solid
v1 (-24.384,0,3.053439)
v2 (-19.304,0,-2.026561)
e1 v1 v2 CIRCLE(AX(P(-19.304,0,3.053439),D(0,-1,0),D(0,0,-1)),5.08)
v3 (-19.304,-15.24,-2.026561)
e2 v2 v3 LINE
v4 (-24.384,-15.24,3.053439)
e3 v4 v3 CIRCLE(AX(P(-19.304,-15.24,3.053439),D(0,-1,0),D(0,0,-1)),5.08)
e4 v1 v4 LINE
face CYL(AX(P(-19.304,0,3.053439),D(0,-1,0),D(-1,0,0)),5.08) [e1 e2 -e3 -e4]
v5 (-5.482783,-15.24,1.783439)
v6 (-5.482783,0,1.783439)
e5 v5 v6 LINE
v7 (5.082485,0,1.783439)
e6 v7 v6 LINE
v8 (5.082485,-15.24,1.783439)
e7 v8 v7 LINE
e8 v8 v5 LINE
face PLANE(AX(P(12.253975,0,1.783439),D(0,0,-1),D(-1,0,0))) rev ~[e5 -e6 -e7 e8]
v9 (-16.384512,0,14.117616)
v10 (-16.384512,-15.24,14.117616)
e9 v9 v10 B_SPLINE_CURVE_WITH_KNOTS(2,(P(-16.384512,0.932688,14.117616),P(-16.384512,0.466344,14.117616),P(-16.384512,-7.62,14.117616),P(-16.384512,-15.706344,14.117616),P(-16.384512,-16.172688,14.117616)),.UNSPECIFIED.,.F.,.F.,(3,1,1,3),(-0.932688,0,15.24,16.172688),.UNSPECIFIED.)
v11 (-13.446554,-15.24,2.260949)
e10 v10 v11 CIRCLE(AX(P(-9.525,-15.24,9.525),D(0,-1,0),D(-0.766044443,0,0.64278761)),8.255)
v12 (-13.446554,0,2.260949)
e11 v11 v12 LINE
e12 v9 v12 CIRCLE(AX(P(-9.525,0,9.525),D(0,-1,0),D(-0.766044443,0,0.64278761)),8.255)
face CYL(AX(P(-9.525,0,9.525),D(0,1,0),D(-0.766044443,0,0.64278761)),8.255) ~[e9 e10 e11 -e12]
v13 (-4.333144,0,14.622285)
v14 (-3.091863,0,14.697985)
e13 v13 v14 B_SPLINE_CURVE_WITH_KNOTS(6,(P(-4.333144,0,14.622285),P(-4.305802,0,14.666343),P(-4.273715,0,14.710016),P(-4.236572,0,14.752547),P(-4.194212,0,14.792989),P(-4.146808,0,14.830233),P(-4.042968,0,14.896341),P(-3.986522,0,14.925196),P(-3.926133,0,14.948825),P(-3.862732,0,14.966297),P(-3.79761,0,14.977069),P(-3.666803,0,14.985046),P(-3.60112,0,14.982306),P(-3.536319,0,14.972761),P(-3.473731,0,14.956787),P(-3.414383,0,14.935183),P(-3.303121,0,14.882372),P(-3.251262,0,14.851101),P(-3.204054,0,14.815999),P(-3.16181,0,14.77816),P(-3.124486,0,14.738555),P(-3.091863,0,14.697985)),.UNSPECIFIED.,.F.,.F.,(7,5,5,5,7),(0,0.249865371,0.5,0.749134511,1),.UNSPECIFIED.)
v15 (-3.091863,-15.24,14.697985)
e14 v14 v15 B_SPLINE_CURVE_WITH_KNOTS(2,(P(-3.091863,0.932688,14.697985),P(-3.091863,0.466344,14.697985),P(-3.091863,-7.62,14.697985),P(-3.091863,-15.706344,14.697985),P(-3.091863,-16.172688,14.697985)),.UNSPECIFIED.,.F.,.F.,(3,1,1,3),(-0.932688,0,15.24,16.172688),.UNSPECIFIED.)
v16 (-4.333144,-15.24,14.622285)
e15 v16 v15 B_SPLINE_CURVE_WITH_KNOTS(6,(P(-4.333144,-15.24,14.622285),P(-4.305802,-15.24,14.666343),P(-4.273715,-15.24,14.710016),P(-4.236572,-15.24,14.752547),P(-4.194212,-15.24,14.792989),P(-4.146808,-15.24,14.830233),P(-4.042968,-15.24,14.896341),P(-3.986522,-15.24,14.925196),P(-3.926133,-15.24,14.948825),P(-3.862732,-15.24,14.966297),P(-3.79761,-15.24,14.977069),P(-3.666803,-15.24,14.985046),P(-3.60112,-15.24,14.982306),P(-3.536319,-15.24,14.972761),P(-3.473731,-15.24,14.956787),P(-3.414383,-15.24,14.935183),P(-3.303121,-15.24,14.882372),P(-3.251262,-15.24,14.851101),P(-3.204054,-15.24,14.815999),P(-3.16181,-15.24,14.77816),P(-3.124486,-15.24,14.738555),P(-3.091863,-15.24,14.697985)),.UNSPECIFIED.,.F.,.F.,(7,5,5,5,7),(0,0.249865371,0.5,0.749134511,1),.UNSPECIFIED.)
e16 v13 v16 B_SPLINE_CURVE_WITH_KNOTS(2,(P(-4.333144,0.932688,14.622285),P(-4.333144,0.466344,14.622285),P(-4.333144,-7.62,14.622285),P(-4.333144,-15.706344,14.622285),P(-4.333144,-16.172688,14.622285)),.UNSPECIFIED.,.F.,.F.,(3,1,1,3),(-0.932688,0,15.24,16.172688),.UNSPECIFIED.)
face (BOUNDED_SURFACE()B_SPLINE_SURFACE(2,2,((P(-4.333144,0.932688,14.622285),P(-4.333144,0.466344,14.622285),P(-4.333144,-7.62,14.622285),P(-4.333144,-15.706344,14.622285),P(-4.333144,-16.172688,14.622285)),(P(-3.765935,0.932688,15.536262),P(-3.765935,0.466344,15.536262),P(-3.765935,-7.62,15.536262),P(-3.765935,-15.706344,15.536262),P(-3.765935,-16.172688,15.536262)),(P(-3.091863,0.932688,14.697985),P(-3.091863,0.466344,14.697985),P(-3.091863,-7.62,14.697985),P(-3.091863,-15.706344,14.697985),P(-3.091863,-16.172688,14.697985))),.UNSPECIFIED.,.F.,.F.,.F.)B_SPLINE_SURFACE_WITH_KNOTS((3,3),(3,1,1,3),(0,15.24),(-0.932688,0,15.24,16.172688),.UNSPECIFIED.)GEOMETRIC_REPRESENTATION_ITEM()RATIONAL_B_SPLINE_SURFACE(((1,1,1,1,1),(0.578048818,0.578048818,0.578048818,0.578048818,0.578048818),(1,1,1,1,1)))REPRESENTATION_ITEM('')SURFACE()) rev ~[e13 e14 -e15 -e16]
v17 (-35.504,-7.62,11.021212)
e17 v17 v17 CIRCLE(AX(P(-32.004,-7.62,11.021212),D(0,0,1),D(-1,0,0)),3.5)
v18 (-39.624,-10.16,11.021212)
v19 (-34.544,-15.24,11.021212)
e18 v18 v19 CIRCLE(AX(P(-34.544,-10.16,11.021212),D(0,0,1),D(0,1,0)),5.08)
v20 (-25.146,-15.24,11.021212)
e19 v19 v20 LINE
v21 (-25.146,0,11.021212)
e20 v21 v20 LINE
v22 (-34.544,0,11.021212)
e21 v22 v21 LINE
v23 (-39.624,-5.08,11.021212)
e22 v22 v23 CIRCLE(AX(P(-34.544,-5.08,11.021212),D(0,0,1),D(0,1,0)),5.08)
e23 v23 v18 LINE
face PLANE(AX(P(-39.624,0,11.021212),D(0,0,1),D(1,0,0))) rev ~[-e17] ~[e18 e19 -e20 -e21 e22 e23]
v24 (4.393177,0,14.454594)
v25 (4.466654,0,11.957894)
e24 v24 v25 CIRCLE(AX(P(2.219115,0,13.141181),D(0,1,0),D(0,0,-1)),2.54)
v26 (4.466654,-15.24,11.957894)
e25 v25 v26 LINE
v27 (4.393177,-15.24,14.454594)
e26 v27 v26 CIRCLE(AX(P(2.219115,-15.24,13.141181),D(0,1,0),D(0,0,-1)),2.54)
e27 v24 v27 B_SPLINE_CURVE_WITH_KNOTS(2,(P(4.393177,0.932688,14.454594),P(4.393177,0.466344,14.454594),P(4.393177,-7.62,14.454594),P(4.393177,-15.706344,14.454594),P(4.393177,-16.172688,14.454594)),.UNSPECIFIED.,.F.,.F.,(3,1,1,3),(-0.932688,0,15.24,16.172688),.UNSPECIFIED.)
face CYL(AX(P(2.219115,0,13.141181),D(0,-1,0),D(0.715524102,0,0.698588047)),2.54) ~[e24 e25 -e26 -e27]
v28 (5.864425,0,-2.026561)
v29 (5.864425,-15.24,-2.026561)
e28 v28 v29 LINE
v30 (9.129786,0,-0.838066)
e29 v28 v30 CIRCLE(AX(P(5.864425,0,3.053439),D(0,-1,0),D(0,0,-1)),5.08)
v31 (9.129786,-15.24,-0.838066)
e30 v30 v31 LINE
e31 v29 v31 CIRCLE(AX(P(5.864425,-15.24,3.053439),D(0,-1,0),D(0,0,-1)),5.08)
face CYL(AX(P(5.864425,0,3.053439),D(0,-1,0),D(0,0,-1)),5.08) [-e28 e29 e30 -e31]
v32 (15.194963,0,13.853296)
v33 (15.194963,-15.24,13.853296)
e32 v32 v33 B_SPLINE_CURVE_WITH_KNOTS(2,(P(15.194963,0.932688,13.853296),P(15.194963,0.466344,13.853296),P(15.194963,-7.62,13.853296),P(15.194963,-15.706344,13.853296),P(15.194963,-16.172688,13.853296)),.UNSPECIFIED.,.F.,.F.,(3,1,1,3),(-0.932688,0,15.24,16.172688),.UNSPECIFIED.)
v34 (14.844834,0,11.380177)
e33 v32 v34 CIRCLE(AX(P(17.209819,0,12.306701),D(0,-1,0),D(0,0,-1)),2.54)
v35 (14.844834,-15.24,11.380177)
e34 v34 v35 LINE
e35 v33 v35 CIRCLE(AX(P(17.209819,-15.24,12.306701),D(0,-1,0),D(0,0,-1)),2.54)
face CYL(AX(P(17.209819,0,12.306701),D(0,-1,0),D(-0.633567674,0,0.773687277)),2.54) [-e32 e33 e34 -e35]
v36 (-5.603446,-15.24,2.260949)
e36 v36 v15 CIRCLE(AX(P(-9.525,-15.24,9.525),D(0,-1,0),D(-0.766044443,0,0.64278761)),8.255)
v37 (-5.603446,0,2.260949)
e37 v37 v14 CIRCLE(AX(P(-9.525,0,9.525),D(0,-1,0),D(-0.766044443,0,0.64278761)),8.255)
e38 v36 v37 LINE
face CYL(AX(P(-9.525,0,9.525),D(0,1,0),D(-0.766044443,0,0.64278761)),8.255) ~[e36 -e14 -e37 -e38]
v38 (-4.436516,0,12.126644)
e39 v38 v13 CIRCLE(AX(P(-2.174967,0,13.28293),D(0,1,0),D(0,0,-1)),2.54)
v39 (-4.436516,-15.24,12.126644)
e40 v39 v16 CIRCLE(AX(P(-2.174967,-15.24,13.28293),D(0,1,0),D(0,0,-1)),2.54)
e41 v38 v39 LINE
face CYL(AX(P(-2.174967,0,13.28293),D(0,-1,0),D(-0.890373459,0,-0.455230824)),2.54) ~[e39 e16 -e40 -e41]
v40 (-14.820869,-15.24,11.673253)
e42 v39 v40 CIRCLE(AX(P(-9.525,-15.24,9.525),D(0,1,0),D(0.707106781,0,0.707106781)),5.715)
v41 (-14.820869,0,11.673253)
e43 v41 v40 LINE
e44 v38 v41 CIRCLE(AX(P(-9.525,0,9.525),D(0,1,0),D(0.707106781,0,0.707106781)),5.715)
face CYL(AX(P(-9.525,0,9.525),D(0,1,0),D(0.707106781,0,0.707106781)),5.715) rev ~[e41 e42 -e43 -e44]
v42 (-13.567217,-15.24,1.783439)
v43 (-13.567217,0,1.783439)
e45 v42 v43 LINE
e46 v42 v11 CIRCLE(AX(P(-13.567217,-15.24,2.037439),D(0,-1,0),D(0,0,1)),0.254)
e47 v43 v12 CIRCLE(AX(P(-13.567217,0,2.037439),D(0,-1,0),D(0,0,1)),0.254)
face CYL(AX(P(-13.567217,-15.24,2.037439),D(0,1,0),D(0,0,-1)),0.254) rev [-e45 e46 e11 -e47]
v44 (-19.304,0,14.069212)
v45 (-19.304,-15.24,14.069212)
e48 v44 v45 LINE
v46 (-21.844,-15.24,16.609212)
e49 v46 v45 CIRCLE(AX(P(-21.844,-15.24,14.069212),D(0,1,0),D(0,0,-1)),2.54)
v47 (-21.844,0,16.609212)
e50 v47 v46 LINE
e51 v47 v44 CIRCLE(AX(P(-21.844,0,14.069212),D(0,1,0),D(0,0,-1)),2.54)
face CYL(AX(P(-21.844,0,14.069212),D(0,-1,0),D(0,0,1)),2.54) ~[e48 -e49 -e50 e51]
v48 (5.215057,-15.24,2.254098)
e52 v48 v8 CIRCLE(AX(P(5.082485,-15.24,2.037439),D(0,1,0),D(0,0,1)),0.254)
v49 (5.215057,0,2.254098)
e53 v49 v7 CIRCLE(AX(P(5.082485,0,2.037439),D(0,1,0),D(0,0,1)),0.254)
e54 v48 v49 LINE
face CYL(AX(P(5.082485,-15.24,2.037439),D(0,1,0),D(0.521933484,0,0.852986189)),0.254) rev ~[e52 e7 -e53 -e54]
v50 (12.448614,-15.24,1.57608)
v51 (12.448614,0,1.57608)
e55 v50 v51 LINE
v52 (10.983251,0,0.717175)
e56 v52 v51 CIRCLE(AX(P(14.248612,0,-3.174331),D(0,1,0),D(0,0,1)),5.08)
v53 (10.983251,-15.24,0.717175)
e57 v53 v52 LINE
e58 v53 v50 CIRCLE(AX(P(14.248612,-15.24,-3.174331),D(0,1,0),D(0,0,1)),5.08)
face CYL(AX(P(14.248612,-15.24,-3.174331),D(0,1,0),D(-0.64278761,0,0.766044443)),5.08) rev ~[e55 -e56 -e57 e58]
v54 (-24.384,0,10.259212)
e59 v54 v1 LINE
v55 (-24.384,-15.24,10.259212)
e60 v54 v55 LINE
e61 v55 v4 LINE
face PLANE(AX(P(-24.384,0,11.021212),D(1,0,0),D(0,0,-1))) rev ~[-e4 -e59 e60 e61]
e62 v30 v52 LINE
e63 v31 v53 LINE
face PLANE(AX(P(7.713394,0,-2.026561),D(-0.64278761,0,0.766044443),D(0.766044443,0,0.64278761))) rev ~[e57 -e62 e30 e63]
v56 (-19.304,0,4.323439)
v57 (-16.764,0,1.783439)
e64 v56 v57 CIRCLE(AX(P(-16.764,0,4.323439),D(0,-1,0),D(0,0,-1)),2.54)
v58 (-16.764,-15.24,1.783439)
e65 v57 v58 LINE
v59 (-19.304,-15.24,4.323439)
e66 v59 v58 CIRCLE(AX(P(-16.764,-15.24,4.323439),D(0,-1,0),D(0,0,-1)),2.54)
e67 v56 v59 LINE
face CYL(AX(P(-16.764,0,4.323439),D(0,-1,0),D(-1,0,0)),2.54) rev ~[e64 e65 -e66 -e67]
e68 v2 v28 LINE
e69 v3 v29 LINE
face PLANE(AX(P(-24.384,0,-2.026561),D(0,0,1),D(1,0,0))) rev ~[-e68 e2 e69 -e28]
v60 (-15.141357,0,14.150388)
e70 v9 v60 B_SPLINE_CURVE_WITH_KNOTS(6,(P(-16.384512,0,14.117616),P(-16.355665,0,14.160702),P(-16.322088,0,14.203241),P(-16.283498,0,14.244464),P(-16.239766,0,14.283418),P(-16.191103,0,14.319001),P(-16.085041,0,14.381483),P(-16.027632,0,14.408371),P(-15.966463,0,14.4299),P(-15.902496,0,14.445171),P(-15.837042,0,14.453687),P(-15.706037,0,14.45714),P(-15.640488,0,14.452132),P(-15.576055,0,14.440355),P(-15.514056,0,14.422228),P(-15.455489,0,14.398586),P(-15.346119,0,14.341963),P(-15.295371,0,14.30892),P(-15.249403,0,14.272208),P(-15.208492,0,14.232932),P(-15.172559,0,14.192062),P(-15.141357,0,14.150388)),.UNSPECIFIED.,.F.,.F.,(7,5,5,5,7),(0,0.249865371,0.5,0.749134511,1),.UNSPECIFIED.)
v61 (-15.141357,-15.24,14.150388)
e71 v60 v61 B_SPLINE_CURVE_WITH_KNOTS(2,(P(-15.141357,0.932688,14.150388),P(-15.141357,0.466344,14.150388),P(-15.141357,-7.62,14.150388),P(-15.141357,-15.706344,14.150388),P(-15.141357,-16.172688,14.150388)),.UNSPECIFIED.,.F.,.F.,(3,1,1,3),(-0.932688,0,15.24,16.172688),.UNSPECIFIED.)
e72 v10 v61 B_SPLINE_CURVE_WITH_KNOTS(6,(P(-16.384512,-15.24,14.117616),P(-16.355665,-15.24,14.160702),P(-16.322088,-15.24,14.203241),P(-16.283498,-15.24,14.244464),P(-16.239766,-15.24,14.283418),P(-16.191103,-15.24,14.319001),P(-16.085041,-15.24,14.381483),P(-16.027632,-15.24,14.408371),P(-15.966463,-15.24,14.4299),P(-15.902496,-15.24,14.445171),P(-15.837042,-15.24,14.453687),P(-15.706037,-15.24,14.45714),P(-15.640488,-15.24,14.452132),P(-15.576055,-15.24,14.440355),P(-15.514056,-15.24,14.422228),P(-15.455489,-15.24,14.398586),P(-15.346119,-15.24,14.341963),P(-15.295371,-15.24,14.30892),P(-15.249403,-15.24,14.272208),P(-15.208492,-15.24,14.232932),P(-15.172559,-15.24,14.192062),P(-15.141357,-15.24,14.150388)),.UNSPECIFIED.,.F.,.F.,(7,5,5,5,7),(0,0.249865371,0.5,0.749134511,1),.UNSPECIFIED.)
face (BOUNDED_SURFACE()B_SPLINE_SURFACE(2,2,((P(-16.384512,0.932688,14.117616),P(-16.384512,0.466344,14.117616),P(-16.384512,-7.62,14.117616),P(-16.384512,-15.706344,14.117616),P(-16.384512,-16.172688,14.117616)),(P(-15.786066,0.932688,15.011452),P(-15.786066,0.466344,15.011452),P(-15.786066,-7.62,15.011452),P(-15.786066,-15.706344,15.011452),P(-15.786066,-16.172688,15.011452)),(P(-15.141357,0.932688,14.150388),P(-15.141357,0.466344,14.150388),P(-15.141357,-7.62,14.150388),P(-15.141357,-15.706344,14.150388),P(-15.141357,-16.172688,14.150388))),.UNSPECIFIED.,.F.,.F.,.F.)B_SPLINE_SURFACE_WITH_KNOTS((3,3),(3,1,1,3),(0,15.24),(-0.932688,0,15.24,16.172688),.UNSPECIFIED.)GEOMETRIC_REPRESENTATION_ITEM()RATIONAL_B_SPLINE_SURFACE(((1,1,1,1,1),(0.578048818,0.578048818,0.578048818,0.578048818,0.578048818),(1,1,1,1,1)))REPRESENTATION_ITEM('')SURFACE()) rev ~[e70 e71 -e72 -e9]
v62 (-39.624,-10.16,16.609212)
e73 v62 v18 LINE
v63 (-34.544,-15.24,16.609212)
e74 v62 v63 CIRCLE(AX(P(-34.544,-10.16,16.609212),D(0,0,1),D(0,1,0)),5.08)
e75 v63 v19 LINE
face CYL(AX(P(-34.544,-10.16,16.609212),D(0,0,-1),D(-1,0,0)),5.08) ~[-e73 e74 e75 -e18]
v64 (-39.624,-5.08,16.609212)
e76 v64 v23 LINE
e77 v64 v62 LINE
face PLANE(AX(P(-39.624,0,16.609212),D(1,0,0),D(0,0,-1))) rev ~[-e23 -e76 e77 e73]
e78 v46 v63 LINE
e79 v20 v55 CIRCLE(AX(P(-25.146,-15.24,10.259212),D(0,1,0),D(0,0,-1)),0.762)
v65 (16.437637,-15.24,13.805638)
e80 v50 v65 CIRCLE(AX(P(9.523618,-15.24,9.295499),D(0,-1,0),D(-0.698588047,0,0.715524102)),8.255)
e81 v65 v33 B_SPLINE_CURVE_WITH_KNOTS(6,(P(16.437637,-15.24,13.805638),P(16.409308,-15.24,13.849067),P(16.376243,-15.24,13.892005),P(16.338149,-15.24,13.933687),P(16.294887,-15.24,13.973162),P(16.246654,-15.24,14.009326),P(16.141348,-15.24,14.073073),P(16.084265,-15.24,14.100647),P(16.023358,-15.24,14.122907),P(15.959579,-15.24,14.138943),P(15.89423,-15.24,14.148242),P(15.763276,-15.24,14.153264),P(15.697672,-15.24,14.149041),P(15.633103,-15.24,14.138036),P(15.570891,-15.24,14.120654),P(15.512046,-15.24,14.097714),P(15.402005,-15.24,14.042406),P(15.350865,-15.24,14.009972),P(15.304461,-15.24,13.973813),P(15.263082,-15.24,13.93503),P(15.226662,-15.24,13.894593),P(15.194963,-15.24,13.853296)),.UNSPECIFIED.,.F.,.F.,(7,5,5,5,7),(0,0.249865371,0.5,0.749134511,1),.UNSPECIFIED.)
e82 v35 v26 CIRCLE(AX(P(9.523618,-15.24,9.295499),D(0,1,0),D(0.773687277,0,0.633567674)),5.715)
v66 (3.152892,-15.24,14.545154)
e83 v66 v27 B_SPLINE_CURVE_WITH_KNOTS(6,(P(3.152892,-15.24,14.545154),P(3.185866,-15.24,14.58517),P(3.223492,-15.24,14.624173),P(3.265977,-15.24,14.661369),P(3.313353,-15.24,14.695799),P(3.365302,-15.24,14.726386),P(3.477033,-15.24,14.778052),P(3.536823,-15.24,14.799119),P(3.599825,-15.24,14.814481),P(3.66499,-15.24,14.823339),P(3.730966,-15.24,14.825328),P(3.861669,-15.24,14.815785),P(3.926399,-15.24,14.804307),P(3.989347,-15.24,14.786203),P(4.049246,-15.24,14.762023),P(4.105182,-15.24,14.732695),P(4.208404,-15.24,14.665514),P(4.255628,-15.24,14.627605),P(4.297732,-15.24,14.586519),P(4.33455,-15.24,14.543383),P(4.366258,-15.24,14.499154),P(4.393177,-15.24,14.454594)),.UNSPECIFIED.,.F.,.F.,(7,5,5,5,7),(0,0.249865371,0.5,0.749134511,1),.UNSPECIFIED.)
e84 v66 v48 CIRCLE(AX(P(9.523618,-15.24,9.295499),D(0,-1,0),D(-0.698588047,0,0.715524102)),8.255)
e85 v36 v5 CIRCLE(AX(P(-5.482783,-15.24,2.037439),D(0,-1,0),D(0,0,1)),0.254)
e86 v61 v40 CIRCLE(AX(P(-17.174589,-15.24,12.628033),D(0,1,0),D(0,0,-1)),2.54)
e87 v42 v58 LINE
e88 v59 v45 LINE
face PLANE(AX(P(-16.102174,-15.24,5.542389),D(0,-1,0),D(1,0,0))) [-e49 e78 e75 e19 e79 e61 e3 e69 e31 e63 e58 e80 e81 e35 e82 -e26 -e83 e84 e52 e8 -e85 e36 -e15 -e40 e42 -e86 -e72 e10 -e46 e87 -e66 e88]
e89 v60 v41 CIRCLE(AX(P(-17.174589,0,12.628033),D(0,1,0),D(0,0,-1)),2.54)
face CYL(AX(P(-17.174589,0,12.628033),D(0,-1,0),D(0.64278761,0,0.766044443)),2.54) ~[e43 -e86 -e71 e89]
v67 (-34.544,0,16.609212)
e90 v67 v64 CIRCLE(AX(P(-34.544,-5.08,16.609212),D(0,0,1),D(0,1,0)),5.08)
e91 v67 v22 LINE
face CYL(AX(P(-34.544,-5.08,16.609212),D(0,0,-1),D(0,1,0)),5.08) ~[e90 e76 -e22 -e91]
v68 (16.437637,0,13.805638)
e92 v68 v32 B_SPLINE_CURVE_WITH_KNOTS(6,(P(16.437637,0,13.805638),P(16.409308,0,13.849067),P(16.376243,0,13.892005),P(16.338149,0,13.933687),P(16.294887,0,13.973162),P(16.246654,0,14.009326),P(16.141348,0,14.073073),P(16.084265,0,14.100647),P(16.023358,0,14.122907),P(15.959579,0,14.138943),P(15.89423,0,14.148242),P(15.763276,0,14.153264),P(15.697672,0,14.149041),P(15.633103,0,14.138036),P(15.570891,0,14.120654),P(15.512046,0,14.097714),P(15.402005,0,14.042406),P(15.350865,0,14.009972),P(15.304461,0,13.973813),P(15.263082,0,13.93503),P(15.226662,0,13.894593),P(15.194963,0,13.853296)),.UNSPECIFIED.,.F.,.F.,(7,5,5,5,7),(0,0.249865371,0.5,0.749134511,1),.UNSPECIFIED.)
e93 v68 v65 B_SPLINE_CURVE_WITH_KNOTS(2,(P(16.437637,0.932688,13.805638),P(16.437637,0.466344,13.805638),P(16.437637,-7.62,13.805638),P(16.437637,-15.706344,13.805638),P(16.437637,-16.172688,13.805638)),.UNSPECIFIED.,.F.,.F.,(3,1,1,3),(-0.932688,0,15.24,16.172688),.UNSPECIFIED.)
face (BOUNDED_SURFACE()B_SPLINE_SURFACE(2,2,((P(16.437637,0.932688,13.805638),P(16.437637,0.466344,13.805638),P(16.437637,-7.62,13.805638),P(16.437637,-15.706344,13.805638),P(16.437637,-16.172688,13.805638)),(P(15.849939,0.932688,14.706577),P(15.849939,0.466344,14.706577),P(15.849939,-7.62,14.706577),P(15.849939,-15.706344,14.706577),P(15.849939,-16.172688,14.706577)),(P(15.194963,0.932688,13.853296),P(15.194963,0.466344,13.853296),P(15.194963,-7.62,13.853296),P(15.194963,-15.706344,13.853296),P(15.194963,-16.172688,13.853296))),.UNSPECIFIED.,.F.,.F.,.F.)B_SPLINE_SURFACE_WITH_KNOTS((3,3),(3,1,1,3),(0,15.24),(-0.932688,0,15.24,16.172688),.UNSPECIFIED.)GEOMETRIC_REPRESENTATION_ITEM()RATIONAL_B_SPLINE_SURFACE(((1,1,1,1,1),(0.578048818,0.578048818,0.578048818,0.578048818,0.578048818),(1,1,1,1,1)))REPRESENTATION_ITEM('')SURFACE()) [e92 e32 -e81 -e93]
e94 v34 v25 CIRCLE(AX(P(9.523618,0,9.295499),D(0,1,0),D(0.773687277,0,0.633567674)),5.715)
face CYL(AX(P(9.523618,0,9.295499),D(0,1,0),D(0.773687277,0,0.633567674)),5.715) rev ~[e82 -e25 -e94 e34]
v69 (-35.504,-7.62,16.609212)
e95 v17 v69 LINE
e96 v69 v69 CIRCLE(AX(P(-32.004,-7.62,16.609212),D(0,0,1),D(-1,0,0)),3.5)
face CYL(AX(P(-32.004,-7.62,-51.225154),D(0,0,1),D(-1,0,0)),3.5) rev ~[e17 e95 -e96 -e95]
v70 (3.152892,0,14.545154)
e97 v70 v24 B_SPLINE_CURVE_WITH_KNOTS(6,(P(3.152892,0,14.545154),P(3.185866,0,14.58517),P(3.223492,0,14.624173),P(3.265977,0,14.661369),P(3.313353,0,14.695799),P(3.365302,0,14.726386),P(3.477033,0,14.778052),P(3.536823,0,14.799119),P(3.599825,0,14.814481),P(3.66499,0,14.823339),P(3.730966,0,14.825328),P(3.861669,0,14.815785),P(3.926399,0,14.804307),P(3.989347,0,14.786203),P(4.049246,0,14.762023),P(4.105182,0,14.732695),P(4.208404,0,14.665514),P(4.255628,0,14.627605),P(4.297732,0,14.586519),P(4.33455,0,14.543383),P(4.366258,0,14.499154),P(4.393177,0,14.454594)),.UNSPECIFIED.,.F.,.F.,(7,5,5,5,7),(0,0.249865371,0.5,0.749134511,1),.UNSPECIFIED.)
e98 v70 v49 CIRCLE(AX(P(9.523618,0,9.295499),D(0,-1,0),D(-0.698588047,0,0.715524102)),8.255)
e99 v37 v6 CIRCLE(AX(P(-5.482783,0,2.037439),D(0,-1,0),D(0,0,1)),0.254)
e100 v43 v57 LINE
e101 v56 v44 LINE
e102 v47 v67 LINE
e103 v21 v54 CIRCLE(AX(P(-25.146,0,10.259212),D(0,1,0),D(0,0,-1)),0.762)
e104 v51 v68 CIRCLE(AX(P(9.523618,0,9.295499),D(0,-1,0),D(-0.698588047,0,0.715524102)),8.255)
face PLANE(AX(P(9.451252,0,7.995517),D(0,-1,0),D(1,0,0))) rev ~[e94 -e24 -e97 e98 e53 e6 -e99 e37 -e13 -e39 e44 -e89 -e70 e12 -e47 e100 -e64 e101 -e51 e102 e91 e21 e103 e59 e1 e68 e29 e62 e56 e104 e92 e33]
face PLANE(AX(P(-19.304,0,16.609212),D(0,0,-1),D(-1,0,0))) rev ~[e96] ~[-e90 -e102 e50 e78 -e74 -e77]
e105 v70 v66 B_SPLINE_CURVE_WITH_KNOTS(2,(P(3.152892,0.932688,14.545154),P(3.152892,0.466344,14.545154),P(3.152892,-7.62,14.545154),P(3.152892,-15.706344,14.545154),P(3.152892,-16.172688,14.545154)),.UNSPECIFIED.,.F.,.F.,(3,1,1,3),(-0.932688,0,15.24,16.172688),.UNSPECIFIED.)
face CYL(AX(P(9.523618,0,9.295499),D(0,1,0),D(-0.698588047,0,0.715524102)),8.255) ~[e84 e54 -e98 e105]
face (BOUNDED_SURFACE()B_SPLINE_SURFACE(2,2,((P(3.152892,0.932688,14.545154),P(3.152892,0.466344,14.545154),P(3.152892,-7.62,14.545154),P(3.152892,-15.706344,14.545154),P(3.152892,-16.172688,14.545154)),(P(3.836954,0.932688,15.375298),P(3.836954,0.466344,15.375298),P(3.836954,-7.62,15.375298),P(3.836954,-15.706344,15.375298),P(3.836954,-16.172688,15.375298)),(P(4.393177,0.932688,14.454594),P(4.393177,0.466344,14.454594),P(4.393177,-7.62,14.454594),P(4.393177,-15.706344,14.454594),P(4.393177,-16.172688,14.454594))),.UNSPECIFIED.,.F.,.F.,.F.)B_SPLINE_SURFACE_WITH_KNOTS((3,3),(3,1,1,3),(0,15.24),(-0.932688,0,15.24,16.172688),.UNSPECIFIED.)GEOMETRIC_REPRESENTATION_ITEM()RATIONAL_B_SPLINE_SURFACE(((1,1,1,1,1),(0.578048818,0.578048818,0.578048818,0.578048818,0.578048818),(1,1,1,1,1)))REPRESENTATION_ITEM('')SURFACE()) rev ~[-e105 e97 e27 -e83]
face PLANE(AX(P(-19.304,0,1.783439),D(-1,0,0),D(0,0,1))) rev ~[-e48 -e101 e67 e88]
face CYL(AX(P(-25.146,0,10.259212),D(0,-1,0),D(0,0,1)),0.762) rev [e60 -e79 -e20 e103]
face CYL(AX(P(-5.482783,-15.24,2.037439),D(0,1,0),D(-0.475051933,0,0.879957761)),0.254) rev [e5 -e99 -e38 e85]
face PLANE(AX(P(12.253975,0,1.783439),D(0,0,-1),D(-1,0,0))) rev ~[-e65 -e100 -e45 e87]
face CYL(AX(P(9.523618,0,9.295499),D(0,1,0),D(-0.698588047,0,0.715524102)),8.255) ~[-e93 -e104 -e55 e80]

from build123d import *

# Parameters (mm, degrees)
F1_DEPTH = 15.24
F3_DEPTH = 15.24
F5_D     = 7
F6_R     = 5.08
F7_R     = 2.54
F8_R     = 0.762
F9_R     = 0.254


with BuildPart() as f1:
    # F0 (on Front) → F1 (new body)
    with BuildSketch(Plane.XZ):
        with BuildLine():
            ThreePointArc((-5.4838847455, 13.5661152545), (-9.2757152012, 3.8154394137), (-13.9029439924, 13.1985311894))
            Line((-13.9029439924, 13.1985311894), (-15.8486968779, 14.831211718))
            ThreePointArc((-15.8486968779, 14.831211718), (-9.1649219573, 1.2778569308), (-3.6878335213, 15.3621664787))
            Line((-3.6878335213, 15.3621664787), (-5.4838847455, 13.5661152545))
        make_face()
    extrude(amount=F1_DEPTH)



with BuildPart() as f1b:
    # F0 (on Front) → F1, piece 2 (new body)
    with BuildSketch(Plane.XZ):
        with BuildLine():
            ThreePointArc((13.9452403049, 12.9163381462), (9.2059751792, 3.5893330735), (5.531186829, 13.3847191373))
            Line((5.531186829, 13.3847191373), (3.7567731907, 15.2021503575))
            ThreePointArc((3.7567731907, 15.2021503575), (9.0648008077, 1.0532593765), (15.9104059892, 14.525600037))
            Line((15.9104059892, 14.525600037), (13.9452403049, 12.9163381462))
        make_face()
    extrude(amount=F1_DEPTH)


with BuildPart() as f1_1:
    add(f1.part)

    add(f1b.part)  # F3 merges F1b
    # F2 (on Front) → F3 (join)
    with BuildSketch(Plane.XZ):
        Polygon((12.2539751792, 1.7834394137), (-19.304, 1.7834394137), (-19.304, 16.609211718), (-39.624, 16.609211718), (-39.624, 11.021211718), (-24.384, 11.021211718), (-24.384, -2.0265605863), (7.7133939915, -2.0265605863), align=None)
    extrude(amount=F3_DEPTH)

    # F5 (through all)
    with Locations(Plane(origin=(0, 0, 11.021211718), x_dir=(1, 0, 0), z_dir=(0, 0, -1))):
        with Locations((-32.004, 7.62)):
            Hole(F5_D / 2)

    # F6
    f6_edges = [f1_1.edges().sort_by_distance(p)[0] for p in [
        (-39.624, -15.24, 13.815212),
        (-39.624, 0, 13.815212),
        (-24.384, -7.62, -2.026561),
        (11.72475, -7.62, 1.339367),
        (7.713394, -7.62, -2.026561),
    ]]
    fillet(f6_edges, radius=F6_R)

    # F7
    f7_edges = [f1_1.edges().sort_by_distance(p)[0] for p in [
        (-19.304, -7.62, 16.609212),
        (-19.304, -7.62, 1.783439),
        (-13.902944, -7.62, 13.198531),
        (-5.483885, -7.62, 13.566115),
        (5.531187, -7.62, 13.384719),
        (13.94524, -7.62, 12.916338),
    ]]
    fillet(f7_edges, radius=F7_R)

    # F8
    f8_edges = [f1_1.edges().sort_by_distance(p)[0] for p in [
        (-15.848697, -7.62, 14.831212),
        (-3.687834, -7.62, 15.362166),
        (3.756773, -7.62, 15.20215),
        (15.910406, -7.62, 14.5256),
        (-24.384, -7.62, 11.021212),
    ]]
    fillet(f8_edges, radius=F8_R)

    # F9
    f9_edges = [f1_1.edges().sort_by_distance(p)[0] for p in [
        (-6.659121, -7.62, 1.783439),
        (-12.390879, -7.62, 1.783439),
        (6.101047, -7.62, 1.783439),
    ]]
    fillet(f9_edges, radius=F9_R)


solid = f1_1.part
